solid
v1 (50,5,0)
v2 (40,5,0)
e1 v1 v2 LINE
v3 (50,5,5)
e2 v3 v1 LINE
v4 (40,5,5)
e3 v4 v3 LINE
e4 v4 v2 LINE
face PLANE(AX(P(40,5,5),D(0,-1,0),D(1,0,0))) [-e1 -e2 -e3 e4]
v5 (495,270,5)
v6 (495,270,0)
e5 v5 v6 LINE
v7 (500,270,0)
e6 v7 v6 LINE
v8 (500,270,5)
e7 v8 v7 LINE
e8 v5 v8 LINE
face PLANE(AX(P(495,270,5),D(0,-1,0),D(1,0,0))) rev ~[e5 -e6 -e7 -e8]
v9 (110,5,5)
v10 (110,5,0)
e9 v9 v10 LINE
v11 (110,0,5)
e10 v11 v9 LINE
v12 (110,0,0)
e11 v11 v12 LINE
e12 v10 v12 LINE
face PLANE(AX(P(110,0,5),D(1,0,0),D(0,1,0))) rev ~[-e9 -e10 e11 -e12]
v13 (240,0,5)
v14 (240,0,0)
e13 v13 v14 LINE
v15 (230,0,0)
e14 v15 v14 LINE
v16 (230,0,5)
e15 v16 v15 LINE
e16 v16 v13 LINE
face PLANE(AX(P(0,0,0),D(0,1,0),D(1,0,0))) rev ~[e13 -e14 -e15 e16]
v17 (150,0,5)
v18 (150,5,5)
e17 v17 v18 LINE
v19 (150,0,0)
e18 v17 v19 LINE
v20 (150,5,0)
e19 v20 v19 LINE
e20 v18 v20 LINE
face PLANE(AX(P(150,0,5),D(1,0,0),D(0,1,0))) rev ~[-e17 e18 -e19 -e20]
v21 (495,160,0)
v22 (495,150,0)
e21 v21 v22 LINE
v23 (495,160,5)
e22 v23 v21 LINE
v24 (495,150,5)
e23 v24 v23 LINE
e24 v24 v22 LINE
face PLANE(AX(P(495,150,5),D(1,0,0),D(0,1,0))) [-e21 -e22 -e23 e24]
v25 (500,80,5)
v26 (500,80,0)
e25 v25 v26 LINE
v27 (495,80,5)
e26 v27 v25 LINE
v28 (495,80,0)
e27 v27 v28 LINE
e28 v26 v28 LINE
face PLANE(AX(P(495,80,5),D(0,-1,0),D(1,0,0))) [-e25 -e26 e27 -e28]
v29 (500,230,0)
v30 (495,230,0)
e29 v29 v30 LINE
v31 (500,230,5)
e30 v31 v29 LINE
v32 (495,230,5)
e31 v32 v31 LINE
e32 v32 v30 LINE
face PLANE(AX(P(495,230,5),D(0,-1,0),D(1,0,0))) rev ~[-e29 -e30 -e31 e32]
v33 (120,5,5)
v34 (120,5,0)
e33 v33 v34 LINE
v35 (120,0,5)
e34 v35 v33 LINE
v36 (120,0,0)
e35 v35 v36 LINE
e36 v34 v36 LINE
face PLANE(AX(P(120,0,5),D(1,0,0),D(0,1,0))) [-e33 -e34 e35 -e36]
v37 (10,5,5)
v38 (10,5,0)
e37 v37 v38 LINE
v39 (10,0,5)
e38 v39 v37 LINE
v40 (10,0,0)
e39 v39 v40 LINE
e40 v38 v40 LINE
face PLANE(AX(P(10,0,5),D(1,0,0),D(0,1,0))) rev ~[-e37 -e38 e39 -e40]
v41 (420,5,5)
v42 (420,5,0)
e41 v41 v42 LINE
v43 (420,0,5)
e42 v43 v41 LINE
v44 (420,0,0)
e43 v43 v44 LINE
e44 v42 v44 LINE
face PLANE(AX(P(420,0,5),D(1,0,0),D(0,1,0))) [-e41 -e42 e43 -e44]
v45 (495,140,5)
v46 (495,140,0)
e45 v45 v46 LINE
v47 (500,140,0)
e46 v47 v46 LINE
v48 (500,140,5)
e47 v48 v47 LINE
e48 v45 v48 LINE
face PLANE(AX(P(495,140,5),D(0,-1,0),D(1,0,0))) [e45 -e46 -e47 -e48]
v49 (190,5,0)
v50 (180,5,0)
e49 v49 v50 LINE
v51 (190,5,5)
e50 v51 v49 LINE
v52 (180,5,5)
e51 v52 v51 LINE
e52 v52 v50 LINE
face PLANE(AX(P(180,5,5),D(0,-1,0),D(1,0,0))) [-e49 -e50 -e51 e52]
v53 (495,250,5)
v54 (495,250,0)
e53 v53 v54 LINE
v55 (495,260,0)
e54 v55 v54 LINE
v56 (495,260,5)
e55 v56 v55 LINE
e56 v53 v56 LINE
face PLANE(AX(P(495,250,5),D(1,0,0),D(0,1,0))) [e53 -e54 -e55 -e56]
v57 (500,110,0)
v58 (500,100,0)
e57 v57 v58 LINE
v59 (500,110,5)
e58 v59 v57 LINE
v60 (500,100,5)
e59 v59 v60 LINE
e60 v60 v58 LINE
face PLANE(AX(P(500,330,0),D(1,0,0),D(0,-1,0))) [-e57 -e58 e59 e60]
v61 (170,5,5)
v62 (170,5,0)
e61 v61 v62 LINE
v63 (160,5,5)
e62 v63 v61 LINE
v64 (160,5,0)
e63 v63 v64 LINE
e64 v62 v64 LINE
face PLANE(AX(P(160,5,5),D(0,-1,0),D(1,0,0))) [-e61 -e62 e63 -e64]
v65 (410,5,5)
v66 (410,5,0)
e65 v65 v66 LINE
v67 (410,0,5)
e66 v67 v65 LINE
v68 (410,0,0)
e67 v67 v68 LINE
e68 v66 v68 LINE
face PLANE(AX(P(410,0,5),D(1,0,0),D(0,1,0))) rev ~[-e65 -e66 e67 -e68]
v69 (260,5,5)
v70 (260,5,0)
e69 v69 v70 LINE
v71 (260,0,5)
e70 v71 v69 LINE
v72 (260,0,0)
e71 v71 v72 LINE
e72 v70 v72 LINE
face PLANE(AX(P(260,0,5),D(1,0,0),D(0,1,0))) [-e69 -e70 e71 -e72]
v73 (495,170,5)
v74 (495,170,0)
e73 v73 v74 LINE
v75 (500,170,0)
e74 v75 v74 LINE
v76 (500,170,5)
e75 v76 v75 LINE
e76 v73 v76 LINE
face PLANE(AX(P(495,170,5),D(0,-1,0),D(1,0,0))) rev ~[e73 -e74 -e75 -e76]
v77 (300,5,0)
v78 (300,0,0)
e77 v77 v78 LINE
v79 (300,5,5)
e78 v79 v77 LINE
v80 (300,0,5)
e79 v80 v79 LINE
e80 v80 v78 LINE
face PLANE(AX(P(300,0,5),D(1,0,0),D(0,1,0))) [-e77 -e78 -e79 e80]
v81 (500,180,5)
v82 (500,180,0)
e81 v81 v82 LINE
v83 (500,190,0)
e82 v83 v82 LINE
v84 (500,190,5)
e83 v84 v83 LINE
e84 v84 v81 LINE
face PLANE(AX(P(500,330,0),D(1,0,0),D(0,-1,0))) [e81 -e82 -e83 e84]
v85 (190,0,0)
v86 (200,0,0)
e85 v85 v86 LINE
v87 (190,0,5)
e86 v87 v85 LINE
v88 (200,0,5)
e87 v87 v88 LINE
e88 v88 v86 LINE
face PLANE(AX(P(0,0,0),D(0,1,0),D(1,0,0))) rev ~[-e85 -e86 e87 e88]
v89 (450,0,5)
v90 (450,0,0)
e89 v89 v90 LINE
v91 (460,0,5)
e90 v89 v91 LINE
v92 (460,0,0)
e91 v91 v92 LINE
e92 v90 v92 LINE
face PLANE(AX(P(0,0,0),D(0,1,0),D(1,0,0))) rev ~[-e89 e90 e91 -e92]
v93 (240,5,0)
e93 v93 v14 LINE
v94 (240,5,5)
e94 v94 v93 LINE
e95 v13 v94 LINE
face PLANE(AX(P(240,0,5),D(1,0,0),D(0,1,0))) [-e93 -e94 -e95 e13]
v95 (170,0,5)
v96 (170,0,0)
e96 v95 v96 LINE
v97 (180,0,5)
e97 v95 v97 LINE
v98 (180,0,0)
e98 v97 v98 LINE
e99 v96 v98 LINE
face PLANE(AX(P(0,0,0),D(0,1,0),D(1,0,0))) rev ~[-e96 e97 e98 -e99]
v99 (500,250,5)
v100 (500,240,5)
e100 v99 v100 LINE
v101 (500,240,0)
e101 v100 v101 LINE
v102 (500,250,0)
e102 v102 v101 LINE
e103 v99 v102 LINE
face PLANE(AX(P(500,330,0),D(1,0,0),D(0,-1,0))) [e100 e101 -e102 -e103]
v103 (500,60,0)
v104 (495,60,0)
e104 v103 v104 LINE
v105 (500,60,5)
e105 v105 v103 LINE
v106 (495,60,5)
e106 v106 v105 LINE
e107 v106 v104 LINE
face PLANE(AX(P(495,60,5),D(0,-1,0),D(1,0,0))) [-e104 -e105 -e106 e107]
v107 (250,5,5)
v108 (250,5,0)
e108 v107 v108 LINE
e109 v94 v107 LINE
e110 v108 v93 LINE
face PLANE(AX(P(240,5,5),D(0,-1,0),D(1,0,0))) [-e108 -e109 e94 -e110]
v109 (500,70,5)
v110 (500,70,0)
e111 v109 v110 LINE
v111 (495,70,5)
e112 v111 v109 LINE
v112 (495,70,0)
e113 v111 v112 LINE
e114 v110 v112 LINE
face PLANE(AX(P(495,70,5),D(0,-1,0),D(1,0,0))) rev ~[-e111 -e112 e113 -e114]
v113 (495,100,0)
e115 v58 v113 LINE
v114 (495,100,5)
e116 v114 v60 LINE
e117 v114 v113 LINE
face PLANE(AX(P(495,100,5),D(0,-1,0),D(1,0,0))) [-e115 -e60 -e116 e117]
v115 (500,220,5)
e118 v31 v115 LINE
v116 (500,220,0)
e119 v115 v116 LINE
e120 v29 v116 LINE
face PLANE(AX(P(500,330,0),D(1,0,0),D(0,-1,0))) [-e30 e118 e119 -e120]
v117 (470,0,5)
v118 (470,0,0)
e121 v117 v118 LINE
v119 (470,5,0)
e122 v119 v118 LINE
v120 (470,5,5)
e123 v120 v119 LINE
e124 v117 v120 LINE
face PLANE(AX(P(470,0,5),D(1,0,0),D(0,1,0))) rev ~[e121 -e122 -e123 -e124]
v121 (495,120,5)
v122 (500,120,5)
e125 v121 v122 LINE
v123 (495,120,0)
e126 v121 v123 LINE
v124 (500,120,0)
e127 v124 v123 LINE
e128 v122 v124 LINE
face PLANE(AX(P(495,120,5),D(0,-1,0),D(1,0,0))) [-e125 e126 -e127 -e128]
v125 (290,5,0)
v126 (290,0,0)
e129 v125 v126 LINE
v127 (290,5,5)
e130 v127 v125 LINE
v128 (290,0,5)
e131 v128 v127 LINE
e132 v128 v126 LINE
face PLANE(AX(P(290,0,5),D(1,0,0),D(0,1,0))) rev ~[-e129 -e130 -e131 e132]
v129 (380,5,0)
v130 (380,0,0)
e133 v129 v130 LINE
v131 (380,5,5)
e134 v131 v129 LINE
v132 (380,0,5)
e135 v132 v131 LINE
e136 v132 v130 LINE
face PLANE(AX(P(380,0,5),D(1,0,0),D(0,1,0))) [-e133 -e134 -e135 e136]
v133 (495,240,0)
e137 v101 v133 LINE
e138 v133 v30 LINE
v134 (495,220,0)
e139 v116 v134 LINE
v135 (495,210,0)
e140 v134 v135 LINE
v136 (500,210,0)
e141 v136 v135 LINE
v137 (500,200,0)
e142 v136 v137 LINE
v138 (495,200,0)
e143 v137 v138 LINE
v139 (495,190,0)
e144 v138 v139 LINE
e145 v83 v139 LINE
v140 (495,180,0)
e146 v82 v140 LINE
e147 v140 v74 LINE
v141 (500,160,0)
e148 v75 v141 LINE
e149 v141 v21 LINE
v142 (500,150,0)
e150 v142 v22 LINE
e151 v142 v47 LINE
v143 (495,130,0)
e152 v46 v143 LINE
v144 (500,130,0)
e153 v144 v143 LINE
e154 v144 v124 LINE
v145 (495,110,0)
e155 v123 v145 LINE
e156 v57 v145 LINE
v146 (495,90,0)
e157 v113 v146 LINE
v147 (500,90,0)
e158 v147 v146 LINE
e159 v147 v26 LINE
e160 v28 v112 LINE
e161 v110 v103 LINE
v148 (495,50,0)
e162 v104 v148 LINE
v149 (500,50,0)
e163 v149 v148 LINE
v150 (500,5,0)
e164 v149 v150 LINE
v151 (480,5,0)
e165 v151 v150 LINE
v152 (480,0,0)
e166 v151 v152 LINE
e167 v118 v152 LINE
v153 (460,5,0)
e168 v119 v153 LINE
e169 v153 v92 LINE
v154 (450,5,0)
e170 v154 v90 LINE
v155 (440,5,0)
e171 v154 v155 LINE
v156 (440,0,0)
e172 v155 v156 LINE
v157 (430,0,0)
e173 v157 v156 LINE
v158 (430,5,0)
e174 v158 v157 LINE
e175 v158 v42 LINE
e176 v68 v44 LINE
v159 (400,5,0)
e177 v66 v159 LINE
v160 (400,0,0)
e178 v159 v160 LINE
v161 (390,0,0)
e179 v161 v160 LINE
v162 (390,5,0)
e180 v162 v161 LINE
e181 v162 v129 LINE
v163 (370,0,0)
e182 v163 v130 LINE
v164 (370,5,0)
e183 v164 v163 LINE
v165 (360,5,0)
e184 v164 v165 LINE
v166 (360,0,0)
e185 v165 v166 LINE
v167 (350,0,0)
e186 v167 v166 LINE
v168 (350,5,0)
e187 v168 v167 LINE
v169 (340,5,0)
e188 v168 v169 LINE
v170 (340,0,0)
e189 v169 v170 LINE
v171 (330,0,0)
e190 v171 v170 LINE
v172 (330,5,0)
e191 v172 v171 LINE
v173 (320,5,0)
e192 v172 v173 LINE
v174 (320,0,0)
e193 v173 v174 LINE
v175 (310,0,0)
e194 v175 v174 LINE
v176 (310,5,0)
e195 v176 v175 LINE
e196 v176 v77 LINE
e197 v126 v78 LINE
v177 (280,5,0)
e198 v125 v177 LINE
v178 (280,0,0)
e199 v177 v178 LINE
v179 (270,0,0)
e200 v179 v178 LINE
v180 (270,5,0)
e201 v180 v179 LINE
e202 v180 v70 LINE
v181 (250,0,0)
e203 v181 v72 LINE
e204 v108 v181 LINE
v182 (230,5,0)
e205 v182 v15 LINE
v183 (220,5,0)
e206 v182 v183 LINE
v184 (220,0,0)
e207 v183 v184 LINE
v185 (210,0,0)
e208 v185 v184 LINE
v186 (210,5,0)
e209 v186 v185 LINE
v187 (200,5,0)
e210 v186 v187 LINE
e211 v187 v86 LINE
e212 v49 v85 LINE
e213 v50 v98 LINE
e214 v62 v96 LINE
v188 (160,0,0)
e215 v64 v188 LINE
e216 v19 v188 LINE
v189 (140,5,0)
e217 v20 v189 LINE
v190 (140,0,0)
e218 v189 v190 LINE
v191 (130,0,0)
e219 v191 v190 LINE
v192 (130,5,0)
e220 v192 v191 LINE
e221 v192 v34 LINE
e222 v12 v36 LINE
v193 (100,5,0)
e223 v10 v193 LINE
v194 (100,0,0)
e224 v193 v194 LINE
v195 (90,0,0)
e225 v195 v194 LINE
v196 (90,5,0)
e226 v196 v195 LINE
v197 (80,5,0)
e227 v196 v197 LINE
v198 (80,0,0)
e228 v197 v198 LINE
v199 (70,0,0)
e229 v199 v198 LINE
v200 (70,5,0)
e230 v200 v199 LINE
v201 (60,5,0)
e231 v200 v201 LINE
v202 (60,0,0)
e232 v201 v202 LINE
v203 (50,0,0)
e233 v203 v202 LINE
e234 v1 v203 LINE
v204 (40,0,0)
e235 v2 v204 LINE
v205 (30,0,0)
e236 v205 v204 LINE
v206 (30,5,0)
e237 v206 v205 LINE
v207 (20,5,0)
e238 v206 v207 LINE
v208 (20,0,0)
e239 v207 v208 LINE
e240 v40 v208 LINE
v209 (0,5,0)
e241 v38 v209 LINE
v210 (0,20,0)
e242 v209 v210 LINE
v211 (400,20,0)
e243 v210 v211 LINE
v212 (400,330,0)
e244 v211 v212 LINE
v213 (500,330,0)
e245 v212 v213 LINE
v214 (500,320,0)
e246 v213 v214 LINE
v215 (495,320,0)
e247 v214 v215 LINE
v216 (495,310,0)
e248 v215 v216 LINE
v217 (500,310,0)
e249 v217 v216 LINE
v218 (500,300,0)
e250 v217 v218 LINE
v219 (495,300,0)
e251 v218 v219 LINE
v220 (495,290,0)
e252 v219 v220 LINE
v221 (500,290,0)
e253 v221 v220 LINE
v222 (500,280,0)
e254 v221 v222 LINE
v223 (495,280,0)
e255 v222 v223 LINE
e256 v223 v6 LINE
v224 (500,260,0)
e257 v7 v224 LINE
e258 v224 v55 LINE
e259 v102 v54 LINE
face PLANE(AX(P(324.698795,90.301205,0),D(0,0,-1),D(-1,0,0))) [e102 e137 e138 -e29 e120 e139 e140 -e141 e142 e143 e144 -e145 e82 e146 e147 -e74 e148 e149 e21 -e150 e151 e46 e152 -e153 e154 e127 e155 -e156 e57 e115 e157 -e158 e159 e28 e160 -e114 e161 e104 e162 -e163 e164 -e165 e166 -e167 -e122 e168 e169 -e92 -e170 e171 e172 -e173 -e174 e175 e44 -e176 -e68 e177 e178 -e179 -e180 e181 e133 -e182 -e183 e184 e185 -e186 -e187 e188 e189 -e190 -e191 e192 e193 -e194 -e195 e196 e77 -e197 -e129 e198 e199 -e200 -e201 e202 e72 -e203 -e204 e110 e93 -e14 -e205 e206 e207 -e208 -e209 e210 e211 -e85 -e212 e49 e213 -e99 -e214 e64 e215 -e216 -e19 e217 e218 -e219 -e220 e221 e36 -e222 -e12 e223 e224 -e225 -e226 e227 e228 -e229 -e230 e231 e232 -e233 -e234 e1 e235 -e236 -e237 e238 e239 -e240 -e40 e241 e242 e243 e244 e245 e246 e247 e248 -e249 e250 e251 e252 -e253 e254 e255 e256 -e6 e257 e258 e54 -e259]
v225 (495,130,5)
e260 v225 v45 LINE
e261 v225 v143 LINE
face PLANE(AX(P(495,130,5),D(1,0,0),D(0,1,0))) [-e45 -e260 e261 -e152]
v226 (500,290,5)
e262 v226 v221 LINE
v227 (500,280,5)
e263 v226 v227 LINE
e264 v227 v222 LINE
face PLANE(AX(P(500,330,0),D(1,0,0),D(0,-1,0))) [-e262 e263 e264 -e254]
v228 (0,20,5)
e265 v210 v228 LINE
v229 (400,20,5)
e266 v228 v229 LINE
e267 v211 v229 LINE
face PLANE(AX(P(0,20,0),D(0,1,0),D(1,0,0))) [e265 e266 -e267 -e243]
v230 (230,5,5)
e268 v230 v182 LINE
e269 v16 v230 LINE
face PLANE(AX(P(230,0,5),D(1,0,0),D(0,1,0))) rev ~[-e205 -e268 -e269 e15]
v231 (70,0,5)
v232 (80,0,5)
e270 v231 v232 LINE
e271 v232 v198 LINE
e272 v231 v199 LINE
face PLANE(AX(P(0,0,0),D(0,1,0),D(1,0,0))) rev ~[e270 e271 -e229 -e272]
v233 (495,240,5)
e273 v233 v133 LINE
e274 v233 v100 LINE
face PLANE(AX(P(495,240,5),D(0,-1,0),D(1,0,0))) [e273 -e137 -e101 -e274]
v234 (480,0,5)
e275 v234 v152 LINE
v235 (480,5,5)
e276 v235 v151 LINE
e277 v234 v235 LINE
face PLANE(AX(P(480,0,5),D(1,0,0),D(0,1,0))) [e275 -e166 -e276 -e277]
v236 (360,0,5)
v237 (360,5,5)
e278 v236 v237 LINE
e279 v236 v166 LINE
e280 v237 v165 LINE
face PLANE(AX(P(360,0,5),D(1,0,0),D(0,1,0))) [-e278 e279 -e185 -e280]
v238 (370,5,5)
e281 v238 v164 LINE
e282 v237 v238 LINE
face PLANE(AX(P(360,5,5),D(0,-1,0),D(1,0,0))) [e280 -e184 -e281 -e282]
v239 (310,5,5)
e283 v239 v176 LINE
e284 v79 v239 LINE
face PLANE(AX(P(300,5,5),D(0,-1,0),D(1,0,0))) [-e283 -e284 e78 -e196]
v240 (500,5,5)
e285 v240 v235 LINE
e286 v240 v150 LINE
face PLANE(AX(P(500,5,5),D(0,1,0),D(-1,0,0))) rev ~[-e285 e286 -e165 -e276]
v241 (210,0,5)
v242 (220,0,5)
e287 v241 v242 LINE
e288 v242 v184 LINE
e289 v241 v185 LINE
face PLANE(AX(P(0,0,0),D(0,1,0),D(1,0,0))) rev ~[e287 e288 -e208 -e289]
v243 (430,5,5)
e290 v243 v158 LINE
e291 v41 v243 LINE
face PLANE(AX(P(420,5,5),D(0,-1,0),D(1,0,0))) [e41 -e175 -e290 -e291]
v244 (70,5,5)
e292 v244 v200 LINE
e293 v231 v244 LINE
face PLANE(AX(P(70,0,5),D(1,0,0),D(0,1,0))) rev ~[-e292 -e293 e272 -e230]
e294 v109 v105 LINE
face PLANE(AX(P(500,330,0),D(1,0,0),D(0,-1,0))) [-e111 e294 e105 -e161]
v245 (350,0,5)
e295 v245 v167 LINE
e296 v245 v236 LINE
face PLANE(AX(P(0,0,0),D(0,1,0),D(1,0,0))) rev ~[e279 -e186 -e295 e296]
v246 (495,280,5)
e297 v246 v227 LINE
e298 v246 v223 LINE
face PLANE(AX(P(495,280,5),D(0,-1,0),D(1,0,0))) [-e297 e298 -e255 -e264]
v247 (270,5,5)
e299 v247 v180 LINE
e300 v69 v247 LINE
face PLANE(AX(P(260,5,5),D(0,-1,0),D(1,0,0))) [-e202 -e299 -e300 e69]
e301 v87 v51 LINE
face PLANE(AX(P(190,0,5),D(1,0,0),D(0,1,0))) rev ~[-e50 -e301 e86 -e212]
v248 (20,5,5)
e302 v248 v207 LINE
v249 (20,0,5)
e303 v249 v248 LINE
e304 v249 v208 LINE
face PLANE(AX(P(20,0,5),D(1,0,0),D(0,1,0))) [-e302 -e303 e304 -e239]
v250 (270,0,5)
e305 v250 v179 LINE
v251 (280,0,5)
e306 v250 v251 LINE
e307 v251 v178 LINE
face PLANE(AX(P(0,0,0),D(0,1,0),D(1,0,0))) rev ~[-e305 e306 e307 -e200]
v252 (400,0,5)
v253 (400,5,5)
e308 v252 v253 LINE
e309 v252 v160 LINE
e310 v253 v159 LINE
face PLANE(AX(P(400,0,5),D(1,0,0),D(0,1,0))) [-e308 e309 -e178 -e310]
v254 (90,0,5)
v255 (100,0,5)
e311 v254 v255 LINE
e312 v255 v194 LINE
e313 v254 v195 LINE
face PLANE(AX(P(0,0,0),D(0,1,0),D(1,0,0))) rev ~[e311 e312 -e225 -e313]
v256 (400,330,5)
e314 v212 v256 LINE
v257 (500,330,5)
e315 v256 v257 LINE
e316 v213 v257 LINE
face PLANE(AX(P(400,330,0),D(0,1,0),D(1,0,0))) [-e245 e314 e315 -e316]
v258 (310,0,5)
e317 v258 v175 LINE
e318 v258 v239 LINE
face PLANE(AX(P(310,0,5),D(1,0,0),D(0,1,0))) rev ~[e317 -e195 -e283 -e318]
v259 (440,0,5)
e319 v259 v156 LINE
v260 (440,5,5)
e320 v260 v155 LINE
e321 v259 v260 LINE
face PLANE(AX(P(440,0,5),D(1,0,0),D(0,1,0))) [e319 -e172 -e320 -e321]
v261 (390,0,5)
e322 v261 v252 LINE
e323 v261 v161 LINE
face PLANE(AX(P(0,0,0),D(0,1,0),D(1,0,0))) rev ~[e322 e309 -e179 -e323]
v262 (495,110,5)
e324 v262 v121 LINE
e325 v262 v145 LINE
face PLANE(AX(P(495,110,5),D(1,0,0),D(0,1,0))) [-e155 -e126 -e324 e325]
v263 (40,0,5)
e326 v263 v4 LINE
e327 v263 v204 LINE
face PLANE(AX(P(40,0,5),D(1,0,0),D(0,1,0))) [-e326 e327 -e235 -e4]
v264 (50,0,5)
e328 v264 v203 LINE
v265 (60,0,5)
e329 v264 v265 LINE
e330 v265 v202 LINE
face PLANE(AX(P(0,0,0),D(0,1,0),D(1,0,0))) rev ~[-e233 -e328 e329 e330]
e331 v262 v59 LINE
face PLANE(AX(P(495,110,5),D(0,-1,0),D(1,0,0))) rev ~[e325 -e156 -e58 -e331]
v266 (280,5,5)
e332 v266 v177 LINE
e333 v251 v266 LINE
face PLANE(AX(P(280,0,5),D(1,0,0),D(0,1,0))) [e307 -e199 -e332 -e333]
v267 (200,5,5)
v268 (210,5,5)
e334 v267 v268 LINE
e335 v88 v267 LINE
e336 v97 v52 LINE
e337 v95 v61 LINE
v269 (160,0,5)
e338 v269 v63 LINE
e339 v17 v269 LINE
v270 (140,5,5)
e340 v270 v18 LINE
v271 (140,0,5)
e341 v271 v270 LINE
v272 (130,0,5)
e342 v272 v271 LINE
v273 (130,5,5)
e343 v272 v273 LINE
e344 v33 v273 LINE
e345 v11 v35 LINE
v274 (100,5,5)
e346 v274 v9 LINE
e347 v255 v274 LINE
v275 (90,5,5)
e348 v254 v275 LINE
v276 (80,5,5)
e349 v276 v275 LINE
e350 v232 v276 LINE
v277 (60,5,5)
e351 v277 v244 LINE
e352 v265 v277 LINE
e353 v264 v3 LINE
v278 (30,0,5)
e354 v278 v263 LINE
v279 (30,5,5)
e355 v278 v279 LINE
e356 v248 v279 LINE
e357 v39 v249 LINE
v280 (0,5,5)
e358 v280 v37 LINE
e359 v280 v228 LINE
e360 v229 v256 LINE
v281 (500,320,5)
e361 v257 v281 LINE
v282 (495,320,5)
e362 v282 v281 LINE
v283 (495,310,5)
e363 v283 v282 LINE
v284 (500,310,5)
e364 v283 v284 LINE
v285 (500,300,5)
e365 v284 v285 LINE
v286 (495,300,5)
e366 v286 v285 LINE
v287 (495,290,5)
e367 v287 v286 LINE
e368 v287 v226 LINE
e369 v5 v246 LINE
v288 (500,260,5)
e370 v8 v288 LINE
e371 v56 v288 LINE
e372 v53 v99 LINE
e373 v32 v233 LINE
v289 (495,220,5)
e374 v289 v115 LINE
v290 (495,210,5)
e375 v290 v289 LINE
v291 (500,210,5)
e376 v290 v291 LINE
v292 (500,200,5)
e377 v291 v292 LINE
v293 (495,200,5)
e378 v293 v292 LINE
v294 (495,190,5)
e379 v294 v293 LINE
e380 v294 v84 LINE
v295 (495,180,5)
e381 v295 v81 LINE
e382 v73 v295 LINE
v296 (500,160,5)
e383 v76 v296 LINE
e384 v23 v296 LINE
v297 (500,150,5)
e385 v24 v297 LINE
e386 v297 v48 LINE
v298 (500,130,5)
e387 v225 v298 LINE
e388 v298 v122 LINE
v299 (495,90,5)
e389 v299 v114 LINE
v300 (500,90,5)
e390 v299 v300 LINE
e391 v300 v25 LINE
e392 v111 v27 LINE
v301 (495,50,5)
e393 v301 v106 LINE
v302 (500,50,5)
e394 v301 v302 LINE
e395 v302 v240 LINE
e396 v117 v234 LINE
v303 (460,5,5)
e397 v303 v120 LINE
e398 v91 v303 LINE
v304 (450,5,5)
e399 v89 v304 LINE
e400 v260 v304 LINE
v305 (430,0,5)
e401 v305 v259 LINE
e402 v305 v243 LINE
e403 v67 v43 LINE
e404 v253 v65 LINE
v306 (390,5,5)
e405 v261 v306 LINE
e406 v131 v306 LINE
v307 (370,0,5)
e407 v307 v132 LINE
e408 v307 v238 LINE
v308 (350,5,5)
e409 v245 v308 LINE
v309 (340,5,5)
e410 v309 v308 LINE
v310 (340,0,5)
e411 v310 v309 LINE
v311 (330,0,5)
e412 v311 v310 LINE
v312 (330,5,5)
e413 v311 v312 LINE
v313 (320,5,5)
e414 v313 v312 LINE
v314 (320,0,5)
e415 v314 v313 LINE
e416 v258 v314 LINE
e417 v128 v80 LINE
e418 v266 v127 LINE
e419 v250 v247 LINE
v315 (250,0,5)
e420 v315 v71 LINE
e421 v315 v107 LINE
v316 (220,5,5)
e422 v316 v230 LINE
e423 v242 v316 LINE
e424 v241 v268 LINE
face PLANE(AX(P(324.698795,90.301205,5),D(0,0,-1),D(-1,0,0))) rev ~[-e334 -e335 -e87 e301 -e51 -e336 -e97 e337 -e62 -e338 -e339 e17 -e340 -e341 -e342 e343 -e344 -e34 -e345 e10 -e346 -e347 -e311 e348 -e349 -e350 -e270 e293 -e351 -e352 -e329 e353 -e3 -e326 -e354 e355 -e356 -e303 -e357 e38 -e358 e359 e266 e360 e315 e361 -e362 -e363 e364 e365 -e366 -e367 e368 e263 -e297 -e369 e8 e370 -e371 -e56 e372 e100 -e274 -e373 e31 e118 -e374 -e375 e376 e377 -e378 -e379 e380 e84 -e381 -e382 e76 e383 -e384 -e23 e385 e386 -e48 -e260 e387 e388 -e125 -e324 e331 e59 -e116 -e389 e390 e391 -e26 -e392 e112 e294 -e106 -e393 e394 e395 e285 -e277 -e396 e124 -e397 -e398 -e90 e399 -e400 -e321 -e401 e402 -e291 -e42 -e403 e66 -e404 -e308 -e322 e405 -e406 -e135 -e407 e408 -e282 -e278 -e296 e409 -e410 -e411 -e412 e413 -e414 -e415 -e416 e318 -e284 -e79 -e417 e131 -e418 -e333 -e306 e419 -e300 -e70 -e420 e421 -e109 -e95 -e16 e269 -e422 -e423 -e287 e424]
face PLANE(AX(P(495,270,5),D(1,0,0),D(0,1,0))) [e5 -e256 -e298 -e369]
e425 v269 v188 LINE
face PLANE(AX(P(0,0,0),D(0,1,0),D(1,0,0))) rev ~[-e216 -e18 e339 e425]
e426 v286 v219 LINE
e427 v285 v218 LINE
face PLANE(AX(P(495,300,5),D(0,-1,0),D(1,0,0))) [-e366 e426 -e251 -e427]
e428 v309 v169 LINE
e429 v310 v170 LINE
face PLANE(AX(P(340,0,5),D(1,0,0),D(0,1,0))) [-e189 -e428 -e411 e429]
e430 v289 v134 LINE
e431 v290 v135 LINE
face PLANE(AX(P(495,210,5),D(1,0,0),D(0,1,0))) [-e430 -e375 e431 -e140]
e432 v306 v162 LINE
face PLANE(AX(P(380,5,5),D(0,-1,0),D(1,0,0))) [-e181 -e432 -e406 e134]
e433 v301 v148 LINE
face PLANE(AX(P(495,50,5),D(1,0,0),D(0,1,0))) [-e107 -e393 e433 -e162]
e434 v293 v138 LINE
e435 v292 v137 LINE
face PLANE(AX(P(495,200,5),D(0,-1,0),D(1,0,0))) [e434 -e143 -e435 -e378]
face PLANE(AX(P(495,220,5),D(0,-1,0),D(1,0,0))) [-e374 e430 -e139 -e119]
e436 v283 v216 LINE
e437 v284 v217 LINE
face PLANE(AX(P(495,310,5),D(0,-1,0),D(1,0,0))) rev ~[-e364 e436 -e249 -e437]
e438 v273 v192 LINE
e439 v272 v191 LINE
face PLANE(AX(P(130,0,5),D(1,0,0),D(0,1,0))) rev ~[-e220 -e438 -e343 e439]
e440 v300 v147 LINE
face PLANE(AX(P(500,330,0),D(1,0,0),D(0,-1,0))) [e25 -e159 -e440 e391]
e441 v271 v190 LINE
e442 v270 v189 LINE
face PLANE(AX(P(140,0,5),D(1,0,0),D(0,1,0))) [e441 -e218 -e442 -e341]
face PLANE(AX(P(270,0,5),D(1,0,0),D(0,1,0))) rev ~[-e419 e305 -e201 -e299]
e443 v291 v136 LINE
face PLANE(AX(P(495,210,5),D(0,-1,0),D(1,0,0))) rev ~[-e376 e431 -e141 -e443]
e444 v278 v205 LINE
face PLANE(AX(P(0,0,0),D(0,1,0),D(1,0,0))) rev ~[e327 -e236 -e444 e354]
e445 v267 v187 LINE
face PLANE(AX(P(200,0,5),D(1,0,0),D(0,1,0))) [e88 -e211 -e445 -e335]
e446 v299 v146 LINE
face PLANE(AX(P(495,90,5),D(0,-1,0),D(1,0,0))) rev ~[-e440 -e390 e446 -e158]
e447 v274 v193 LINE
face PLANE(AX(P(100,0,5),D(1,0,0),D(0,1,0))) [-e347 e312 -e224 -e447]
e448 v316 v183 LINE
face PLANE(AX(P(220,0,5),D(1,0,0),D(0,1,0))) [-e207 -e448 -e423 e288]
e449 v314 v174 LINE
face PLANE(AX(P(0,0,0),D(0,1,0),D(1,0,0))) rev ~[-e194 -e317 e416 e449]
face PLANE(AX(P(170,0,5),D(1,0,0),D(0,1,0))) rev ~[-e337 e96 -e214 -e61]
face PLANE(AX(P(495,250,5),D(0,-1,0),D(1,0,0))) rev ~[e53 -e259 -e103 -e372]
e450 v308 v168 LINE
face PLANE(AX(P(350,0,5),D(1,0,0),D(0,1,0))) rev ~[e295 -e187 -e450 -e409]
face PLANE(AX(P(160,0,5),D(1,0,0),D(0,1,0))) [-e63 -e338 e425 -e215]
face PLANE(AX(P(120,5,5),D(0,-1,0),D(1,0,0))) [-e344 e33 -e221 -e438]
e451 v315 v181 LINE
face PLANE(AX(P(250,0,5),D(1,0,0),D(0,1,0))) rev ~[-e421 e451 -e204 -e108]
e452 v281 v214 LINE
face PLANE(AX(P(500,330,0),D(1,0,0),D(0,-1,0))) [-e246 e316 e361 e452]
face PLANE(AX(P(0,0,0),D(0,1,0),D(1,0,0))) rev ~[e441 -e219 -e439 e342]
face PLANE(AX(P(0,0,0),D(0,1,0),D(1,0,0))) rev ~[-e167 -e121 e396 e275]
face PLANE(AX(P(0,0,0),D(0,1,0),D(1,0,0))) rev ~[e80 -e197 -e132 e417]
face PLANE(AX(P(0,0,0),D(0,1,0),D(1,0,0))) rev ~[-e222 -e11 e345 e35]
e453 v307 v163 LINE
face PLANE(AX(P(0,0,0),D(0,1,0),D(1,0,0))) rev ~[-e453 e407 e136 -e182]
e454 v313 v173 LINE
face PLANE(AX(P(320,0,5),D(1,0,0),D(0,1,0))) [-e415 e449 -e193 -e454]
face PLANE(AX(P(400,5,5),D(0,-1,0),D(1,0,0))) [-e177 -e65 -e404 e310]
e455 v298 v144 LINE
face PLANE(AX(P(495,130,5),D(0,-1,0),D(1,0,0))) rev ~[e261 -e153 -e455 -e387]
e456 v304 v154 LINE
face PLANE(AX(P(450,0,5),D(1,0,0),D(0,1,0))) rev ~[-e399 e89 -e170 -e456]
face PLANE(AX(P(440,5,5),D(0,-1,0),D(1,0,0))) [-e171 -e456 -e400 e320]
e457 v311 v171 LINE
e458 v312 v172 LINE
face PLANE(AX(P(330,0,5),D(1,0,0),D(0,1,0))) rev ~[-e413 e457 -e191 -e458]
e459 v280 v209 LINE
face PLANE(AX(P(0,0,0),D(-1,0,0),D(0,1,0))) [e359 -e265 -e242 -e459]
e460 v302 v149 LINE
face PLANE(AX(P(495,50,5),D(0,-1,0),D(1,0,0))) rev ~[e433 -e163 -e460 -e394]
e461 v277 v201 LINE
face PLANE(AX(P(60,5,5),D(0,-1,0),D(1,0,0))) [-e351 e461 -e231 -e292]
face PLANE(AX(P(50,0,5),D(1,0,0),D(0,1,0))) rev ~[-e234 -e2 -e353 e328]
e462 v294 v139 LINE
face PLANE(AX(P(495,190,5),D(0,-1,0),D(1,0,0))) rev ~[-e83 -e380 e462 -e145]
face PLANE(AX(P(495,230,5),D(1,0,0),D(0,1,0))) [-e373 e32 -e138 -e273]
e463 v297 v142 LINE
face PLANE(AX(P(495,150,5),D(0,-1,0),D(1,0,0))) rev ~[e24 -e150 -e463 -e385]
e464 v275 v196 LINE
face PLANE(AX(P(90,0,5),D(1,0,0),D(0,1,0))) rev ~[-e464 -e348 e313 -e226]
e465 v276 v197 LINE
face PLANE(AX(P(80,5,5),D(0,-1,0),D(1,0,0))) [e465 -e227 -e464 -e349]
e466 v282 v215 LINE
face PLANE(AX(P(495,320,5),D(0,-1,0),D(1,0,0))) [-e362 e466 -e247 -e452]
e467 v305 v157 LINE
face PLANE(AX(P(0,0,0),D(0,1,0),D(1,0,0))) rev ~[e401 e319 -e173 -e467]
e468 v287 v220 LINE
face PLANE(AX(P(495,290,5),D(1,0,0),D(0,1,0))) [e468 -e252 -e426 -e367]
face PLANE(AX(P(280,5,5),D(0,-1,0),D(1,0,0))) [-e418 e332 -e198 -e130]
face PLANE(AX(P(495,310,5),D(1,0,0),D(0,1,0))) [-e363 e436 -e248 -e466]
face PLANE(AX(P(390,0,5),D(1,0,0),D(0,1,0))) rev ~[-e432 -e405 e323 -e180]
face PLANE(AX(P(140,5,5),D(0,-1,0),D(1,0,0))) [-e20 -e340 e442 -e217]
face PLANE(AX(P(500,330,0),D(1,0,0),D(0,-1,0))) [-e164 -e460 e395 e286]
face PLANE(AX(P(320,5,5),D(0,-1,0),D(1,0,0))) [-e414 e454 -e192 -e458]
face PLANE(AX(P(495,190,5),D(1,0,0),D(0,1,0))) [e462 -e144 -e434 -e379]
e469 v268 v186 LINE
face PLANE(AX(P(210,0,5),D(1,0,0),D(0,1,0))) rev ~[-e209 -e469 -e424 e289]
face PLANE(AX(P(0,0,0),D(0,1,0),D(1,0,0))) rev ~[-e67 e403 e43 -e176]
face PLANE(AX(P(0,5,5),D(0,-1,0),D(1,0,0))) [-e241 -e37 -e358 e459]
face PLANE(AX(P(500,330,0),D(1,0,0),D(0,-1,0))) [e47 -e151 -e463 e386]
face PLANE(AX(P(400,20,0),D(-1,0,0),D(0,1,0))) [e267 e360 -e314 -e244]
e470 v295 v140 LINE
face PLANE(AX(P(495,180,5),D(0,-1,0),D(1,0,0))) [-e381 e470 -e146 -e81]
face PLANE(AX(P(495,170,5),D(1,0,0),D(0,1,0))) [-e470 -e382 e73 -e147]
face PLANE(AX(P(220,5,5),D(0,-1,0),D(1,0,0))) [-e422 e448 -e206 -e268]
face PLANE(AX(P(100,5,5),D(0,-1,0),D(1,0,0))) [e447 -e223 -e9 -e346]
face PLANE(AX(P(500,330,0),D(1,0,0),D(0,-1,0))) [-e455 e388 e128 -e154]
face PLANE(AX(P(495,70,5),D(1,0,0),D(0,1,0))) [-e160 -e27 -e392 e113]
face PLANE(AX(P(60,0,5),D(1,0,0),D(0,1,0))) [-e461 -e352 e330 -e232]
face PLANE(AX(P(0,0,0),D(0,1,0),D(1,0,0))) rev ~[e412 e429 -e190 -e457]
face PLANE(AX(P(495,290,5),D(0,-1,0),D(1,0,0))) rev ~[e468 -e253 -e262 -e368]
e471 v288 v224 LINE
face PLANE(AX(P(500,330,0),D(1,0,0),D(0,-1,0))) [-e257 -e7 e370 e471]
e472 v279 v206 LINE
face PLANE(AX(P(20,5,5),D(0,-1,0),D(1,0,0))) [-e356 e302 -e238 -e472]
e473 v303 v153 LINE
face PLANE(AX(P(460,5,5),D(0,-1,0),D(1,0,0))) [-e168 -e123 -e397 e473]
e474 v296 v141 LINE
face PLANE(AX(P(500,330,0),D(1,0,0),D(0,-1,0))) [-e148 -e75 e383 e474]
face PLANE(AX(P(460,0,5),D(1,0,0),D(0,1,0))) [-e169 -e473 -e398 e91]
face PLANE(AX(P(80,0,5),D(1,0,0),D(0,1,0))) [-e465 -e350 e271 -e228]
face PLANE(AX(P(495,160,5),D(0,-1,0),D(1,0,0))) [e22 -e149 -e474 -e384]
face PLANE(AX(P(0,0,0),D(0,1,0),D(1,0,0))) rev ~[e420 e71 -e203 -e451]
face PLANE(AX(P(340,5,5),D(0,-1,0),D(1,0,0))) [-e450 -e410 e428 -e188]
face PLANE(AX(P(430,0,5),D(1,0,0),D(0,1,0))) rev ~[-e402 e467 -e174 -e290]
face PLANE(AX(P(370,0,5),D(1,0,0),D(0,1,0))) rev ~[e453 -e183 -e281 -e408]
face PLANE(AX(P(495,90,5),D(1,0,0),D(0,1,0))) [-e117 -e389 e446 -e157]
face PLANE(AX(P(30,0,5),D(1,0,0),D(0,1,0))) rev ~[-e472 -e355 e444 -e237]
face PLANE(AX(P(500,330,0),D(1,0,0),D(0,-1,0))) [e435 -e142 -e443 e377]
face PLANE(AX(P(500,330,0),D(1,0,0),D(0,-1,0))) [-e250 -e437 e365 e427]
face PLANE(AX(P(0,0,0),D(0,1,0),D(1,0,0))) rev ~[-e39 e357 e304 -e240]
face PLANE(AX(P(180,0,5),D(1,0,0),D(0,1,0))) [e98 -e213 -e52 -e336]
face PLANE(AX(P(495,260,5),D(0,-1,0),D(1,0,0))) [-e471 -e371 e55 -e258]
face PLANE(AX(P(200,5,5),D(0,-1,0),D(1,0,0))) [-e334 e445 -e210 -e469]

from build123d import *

# Parameters (mm, degrees)
BOSS_EXTRU_1_DEPTH      = 5
ESQUISSE2_W             = 10
ESQUISSE2_H             = 5
ESQUISSE2_W_2           = 5
ESQUISSE2_H_2           = 10
ENL_V_MAT_EXTRU_2_DEPTH = 600.103496902


with BuildPart() as part:
    # Esquisse1 → Boss.-Extru.1 (new body)
    with BuildSketch(Plane.XY):
        Polygon((400, 20), (400, 330), (500, 330), (500, 0), (400, 0), (0, 0), (0, 20), align=None)
    extrude(amount=BOSS_EXTRU_1_DEPTH)

    # Esquisse2 → Enlèv. mat.-Extru.2 (cut, through all)
    with BuildSketch(Plane.XY.offset(5)):
        with Locations((25, 2.5)):
            Rectangle(ESQUISSE2_W, ESQUISSE2_H)
        with Locations((5, 2.5)):
            Rectangle(ESQUISSE2_W, ESQUISSE2_H)
        with Locations((45, 2.5)):
            Rectangle(ESQUISSE2_W, ESQUISSE2_H)
        with Locations((65, 2.5)):
            Rectangle(ESQUISSE2_W, ESQUISSE2_H)
        with Locations((85, 2.5)):
            Rectangle(ESQUISSE2_W, ESQUISSE2_H)
        with Locations((105, 2.5)):
            Rectangle(ESQUISSE2_W, ESQUISSE2_H)
        with Locations((125, 2.5)):
            Rectangle(ESQUISSE2_W, ESQUISSE2_H)
        with Locations((145, 2.5)):
            Rectangle(ESQUISSE2_W, ESQUISSE2_H)
        with Locations((165, 2.5)):
            Rectangle(ESQUISSE2_W, ESQUISSE2_H)
        with Locations((185, 2.5)):
            Rectangle(ESQUISSE2_W, ESQUISSE2_H)
        with Locations((205, 2.5)):
            Rectangle(ESQUISSE2_W, ESQUISSE2_H)
        with Locations((225, 2.5)):
            Rectangle(ESQUISSE2_W, ESQUISSE2_H)
        with Locations((245, 2.5)):
            Rectangle(ESQUISSE2_W, ESQUISSE2_H)
        with Locations((265, 2.5)):
            Rectangle(ESQUISSE2_W, ESQUISSE2_H)
        with Locations((285, 2.5)):
            Rectangle(ESQUISSE2_W, ESQUISSE2_H)
        with Locations((305, 2.5)):
            Rectangle(ESQUISSE2_W, ESQUISSE2_H)
        with Locations((325, 2.5)):
            Rectangle(ESQUISSE2_W, ESQUISSE2_H)
        with Locations((345, 2.5)):
            Rectangle(ESQUISSE2_W, ESQUISSE2_H)
        with Locations((365, 2.5)):
            Rectangle(ESQUISSE2_W, ESQUISSE2_H)
        with Locations((385, 2.5)):
            Rectangle(ESQUISSE2_W, ESQUISSE2_H)
        with Locations((405, 2.5)):
            Rectangle(ESQUISSE2_W, ESQUISSE2_H)
        with Locations((425, 2.5)):
            Rectangle(ESQUISSE2_W, ESQUISSE2_H)
        with Locations((445, 2.5)):
            Rectangle(ESQUISSE2_W, ESQUISSE2_H)
        with Locations((465, 2.5)):
            Rectangle(ESQUISSE2_W, ESQUISSE2_H)
        Polygon((480, 0), (480, 5), (490, 5), (500, 5), (500, 0), (490, 0), align=None)
        with Locations((497.5, 315)):
            Rectangle(ESQUISSE2_W_2, ESQUISSE2_H_2)
        with Locations((497.5, 295)):
            Rectangle(ESQUISSE2_W_2, ESQUISSE2_H_2)
        with Locations((497.5, 275)):
            Rectangle(ESQUISSE2_W_2, ESQUISSE2_H_2)
        with Locations((497.5, 255)):
            Rectangle(ESQUISSE2_W_2, ESQUISSE2_H_2)
        with Locations((497.5, 235)):
            Rectangle(ESQUISSE2_W_2, ESQUISSE2_H_2)
        with Locations((497.5, 215)):
            Rectangle(ESQUISSE2_W_2, ESQUISSE2_H_2)
        with Locations((497.5, 195)):
            Rectangle(ESQUISSE2_W_2, ESQUISSE2_H_2)
        with Locations((497.5, 175)):
            Rectangle(ESQUISSE2_W_2, ESQUISSE2_H_2)
        with Locations((497.5, 155)):
            Rectangle(ESQUISSE2_W_2, ESQUISSE2_H_2)
        with Locations((497.5, 135)):
            Rectangle(ESQUISSE2_W_2, ESQUISSE2_H_2)
        with Locations((497.5, 115)):
            Rectangle(ESQUISSE2_W_2, ESQUISSE2_H_2)
        with Locations((497.5, 95)):
            Rectangle(ESQUISSE2_W_2, ESQUISSE2_H_2)
        with Locations((497.5, 75)):
            Rectangle(ESQUISSE2_W_2, ESQUISSE2_H_2)
        with Locations((497.5, 55)):
            Rectangle(ESQUISSE2_W_2, ESQUISSE2_H_2)
    extrude(amount=-ENL_V_MAT_EXTRU_2_DEPTH, mode=Mode.SUBTRACT)


solid = part.part
